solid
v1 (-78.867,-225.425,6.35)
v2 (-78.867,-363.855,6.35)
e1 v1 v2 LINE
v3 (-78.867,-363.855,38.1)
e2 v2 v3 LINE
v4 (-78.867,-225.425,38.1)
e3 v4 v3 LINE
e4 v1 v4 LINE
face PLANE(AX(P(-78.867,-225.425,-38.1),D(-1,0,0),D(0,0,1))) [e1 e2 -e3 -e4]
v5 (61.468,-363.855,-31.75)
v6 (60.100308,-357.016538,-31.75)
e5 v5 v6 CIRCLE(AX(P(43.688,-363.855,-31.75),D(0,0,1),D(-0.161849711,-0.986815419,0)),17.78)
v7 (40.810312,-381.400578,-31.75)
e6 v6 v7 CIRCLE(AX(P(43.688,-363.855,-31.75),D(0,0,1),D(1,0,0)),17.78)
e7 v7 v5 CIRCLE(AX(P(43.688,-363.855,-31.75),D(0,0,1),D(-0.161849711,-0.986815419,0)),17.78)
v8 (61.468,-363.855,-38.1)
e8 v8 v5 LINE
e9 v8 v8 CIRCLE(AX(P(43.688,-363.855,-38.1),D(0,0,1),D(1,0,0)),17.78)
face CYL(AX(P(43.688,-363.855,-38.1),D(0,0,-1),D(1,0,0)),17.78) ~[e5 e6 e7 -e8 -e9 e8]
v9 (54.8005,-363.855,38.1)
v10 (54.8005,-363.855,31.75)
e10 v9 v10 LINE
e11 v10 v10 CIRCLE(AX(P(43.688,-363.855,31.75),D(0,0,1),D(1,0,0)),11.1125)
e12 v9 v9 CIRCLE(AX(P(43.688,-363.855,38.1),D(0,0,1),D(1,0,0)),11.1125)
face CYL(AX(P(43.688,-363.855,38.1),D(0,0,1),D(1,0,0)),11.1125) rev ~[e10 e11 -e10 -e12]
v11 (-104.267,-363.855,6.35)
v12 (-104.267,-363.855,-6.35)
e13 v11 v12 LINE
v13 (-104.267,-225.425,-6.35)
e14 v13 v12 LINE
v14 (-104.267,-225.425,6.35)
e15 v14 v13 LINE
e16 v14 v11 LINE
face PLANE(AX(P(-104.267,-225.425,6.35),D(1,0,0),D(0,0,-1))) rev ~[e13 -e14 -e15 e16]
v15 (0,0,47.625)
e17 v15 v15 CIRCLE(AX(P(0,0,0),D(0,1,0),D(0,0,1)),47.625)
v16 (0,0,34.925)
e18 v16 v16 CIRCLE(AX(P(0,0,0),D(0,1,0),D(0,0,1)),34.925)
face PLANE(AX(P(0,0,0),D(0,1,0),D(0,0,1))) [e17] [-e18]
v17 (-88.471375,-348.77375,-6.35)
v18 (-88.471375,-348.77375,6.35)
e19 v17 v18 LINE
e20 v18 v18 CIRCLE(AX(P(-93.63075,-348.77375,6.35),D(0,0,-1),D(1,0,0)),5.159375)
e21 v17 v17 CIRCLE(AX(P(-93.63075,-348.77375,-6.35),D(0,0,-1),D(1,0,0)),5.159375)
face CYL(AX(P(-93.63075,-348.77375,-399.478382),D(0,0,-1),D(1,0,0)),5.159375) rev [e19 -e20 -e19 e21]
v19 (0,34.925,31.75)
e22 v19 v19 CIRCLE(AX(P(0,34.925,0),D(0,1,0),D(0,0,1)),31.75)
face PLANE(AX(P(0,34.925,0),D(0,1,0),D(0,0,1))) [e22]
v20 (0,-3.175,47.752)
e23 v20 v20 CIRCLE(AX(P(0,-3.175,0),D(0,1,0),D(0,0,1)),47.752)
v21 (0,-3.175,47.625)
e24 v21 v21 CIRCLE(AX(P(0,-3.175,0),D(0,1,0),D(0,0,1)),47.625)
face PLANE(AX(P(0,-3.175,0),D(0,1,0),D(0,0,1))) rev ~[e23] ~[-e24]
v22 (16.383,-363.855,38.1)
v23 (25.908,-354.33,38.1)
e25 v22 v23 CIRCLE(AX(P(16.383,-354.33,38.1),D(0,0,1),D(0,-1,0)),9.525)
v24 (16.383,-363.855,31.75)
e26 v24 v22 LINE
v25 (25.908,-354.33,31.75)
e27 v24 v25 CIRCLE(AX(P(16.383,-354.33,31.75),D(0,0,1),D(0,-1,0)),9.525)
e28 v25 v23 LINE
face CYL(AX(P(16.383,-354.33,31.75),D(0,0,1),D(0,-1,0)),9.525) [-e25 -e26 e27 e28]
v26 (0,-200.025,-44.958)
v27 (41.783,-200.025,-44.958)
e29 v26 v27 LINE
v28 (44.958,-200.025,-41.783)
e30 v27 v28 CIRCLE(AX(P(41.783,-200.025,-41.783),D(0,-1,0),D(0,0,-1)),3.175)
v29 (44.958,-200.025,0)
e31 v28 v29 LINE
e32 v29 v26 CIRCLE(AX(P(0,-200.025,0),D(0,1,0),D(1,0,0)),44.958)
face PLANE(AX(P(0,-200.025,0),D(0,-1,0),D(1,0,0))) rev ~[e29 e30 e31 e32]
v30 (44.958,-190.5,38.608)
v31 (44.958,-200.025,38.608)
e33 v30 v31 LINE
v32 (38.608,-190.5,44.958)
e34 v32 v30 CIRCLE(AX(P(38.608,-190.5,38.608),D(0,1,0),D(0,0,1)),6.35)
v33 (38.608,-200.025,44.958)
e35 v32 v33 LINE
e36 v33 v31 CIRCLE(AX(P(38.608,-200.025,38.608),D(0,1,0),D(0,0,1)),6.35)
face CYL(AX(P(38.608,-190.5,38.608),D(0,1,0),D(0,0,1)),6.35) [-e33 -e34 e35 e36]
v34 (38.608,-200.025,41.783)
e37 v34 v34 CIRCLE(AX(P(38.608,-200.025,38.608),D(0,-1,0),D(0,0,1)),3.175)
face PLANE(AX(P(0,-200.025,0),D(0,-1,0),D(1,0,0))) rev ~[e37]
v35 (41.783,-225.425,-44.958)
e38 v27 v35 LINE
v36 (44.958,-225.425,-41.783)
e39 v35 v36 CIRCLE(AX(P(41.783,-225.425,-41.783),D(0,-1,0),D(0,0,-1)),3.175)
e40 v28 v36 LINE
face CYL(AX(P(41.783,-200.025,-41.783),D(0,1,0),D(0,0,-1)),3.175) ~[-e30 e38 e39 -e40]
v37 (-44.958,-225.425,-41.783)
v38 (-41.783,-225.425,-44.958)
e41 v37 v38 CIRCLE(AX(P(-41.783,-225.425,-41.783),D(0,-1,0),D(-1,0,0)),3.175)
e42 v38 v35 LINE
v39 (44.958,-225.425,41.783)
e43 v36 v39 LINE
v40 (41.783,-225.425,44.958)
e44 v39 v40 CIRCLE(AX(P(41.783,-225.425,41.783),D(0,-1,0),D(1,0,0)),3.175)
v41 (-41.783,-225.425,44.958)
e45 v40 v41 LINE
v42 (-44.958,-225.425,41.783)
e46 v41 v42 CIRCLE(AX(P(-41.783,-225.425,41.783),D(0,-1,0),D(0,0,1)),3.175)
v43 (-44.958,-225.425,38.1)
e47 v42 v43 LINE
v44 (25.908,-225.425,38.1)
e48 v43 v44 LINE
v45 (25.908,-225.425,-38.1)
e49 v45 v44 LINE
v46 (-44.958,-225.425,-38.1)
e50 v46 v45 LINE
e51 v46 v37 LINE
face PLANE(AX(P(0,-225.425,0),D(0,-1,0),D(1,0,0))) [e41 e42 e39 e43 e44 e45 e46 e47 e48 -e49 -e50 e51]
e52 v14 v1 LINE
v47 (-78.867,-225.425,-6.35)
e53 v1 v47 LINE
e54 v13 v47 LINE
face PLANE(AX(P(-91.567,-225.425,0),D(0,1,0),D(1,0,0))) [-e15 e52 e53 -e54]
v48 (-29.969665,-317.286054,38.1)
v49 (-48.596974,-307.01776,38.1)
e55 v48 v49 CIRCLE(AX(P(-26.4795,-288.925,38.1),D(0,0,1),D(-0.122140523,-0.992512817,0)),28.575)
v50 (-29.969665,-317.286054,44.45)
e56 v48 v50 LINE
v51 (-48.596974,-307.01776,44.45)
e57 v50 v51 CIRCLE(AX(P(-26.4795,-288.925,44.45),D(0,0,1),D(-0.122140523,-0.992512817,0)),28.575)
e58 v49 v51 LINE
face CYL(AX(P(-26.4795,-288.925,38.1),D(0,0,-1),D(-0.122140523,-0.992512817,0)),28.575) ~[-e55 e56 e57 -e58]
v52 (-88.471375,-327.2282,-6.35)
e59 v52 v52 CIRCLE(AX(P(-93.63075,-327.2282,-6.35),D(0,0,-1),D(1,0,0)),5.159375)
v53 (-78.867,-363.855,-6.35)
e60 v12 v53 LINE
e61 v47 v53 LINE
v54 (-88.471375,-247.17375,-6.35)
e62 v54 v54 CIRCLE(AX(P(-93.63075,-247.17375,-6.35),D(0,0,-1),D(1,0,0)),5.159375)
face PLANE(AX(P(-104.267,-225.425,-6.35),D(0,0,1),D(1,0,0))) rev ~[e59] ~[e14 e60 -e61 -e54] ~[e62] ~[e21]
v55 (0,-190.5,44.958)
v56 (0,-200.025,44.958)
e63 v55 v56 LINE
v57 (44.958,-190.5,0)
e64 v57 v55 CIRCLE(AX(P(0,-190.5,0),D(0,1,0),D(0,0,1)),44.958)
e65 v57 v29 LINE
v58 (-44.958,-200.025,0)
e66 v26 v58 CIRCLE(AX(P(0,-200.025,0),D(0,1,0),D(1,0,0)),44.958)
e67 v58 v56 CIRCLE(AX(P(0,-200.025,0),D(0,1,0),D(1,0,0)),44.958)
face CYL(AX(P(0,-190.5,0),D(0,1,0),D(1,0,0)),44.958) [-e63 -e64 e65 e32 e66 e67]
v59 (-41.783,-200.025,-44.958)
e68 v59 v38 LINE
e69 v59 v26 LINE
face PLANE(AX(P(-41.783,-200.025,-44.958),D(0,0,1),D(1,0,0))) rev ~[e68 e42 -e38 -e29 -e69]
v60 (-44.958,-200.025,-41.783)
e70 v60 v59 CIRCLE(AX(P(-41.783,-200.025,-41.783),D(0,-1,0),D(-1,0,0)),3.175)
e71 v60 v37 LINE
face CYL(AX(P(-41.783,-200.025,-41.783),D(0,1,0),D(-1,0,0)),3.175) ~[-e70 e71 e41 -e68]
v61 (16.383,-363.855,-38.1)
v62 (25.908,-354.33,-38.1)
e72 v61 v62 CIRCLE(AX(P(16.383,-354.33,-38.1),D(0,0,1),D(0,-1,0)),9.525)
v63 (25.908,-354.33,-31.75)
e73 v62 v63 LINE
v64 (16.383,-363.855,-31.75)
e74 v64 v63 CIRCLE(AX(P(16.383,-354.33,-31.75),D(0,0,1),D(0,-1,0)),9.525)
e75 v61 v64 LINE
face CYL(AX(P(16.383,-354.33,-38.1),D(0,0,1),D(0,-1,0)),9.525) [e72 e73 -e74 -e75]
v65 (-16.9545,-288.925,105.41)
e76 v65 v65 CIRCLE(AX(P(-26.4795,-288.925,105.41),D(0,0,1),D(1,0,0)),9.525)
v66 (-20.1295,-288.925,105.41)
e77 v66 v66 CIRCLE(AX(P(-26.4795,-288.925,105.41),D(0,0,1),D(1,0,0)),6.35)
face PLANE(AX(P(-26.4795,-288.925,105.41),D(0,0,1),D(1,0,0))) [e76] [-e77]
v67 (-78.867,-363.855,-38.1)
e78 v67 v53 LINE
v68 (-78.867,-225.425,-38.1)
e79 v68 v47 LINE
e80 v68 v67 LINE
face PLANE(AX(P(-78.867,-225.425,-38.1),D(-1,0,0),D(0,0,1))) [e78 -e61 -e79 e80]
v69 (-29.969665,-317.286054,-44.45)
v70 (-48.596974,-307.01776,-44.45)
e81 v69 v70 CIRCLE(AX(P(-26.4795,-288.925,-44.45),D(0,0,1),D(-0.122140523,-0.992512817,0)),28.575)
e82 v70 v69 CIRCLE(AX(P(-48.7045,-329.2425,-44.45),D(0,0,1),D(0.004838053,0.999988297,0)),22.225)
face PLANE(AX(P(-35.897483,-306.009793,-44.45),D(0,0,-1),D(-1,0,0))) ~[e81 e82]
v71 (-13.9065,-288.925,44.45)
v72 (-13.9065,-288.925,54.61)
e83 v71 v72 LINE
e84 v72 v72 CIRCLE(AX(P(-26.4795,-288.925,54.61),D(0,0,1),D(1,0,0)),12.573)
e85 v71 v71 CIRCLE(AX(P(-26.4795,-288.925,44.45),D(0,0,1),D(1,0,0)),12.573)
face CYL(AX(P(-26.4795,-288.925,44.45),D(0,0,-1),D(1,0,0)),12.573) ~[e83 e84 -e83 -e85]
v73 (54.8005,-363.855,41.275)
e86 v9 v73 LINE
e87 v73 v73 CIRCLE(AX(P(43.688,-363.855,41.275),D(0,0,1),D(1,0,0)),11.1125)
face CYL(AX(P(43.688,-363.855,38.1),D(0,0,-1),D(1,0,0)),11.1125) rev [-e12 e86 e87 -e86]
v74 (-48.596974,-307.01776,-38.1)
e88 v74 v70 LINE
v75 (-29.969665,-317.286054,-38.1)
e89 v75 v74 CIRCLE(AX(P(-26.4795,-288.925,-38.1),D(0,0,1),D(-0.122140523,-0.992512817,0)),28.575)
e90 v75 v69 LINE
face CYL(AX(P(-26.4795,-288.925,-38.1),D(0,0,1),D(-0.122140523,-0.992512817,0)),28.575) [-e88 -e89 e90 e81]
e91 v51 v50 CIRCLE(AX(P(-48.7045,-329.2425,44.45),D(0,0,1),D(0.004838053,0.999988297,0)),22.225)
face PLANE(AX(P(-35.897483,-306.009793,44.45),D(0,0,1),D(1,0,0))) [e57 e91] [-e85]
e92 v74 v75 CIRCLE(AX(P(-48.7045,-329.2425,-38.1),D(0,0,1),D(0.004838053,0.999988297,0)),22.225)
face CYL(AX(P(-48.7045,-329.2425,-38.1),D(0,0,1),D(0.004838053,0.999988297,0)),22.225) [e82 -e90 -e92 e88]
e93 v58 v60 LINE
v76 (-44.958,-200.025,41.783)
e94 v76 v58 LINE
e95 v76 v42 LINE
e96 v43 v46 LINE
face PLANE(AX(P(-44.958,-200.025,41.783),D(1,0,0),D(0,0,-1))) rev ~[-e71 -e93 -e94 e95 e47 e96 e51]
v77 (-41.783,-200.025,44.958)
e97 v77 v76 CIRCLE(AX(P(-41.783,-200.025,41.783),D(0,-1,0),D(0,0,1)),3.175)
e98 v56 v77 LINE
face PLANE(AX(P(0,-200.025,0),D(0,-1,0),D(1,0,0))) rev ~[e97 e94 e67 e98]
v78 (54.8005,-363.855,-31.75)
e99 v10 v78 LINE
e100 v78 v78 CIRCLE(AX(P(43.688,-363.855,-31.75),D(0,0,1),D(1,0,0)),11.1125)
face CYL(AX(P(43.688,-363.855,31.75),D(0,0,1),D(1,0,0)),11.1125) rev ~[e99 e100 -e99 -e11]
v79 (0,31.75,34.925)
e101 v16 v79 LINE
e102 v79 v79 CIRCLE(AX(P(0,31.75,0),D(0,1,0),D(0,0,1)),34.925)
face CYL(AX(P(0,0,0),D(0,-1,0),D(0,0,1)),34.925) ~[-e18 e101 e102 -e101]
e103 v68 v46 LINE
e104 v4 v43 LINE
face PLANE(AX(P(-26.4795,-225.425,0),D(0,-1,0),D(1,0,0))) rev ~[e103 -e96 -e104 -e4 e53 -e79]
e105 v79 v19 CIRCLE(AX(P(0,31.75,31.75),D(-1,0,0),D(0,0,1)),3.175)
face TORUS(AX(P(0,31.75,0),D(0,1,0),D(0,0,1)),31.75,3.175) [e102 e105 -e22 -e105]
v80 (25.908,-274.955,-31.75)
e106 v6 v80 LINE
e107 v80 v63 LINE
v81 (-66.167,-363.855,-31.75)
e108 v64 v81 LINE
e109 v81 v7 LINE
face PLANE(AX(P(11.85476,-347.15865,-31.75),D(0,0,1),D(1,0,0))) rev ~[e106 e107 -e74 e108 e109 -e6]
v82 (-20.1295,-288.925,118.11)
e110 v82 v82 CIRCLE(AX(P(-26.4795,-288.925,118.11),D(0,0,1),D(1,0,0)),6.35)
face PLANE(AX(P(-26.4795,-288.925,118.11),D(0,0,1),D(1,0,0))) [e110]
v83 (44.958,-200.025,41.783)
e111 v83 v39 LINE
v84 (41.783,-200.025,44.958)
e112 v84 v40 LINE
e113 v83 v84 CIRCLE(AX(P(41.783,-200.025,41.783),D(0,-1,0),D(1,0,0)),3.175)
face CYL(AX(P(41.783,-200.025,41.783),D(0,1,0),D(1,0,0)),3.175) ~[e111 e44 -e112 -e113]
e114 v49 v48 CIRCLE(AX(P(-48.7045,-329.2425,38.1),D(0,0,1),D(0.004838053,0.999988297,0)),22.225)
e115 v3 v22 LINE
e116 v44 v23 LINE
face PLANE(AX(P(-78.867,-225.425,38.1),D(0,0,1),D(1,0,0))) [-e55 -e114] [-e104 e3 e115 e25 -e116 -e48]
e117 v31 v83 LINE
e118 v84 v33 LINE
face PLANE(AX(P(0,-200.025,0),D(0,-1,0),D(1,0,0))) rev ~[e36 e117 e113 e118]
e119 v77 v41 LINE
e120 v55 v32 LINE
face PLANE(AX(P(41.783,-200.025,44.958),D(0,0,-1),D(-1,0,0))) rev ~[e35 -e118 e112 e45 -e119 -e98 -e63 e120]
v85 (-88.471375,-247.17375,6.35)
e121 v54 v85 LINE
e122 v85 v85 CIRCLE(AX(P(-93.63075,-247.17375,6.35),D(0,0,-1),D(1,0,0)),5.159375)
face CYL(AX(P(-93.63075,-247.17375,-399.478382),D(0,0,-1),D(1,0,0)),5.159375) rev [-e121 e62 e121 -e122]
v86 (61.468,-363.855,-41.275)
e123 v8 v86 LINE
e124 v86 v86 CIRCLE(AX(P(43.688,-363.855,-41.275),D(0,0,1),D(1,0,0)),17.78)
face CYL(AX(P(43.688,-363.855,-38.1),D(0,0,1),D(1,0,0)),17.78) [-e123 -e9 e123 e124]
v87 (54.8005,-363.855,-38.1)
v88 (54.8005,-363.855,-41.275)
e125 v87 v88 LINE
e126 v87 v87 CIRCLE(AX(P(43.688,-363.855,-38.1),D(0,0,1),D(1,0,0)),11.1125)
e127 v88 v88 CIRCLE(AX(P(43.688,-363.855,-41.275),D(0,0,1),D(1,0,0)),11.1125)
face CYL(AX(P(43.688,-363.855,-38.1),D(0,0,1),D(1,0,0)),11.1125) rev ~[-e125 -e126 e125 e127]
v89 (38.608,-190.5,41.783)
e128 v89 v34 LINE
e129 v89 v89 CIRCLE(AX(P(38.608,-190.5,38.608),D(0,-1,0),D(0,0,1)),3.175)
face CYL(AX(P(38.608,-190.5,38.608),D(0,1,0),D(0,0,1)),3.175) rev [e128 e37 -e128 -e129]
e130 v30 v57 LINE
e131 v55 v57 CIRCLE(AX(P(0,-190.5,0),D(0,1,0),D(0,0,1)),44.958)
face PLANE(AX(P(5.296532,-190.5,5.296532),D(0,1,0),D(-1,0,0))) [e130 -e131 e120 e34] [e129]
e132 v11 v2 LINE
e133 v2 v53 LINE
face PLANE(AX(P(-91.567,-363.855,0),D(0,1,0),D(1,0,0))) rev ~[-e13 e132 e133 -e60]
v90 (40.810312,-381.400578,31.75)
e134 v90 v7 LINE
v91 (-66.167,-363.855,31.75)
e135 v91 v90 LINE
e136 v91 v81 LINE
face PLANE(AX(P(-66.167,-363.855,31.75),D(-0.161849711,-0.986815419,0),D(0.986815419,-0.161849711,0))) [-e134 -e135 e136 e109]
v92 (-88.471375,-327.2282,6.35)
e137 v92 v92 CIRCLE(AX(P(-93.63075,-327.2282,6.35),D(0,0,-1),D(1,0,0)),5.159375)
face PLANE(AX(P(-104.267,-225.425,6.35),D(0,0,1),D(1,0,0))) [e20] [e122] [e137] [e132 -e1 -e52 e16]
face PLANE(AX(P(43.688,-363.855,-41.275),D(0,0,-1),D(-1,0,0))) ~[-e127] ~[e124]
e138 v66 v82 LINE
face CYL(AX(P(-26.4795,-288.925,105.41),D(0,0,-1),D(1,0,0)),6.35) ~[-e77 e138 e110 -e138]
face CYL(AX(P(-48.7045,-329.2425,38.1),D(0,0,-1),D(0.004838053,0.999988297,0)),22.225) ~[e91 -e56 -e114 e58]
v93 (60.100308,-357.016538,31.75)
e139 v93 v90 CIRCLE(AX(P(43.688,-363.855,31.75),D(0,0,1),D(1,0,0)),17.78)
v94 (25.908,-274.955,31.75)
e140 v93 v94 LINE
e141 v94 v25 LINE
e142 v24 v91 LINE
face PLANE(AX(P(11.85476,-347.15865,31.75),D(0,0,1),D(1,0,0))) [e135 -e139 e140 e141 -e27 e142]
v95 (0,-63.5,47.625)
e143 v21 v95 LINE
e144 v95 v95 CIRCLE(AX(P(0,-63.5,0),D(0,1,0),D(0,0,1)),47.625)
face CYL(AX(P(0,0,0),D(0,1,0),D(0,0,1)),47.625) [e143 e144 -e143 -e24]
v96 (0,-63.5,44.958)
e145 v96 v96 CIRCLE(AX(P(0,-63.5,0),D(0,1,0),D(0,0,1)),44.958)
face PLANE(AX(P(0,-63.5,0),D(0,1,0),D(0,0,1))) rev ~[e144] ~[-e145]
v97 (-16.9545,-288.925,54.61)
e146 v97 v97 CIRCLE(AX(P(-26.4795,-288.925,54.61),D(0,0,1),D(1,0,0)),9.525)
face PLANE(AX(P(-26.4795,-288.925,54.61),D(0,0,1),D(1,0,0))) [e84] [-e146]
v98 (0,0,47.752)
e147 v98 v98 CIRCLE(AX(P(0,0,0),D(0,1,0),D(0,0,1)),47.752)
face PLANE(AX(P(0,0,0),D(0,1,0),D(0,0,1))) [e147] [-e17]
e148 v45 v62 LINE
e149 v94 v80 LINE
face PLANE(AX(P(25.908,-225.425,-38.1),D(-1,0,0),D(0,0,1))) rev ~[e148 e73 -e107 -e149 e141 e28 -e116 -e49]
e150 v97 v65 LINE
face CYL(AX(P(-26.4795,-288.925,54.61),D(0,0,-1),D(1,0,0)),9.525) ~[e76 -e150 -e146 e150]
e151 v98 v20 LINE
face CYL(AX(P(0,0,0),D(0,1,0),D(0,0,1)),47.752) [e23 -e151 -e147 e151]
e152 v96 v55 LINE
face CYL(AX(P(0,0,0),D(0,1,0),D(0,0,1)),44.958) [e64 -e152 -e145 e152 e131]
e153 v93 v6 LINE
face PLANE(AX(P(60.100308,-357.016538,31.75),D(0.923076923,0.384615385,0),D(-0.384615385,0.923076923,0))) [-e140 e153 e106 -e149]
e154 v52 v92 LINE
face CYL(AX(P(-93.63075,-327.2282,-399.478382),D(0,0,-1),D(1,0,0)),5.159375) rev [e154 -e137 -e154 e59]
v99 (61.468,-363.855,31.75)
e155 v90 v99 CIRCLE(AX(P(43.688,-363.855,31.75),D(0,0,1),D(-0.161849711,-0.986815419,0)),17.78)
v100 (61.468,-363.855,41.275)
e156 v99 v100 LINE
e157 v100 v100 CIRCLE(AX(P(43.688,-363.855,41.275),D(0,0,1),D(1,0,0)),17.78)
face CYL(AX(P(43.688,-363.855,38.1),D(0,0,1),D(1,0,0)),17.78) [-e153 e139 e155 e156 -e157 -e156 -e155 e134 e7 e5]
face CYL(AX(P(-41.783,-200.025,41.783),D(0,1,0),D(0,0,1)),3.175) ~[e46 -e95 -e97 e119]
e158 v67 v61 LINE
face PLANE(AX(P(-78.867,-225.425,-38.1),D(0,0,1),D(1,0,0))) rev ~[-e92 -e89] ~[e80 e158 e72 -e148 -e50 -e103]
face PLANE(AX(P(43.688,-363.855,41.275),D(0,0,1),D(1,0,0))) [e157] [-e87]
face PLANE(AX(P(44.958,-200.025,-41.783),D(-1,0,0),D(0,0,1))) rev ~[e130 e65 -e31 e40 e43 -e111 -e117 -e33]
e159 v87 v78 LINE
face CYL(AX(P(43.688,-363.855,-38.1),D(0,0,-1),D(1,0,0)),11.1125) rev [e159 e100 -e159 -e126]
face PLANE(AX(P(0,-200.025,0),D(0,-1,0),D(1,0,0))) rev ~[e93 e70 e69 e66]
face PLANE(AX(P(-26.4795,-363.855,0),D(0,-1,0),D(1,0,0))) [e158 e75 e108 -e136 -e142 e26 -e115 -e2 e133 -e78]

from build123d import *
from build123d.topology import SkipClean

# Parameters (mm, degrees)
SKETCH2_R                   = 47.625
EXTRUDE1_DEPTH              = 63.5
SKETCH3_R                   = 44.958
EXTRUDE2_DEPTH              = 190.5
SKETCH4_R                   = 34.925
EXTRUDE3_DEPTH              = 34.925
FILLET1_R                   = 3.175
SKETCH5_R                   = 3.175
EXTRUDE4_DEPTH              = 9.525
EXTRUDE5_DEPTH              = 25.4
SKETCH7_W                   = 104.775
SKETCH7_H                   = 76.2
EXTRUDE6_DEPTH              = 138.43
EXTRUDE7_DEPTH              = 6.35
EXTRUDE8_START              = -6.35
SKETCH9_R                   = 11.1125
EXTRUDE8_DEPTH              = 63.5
FILLET2_R                   = 9.525
SKETCH10_R                  = 17.78
SKETCH10_R_2                = 11.1125
EXTRUDE9_DEPTH              = 3.175
EXTRUDE9_DIRECTION_2_REACH  = 401.016
SKETCH11_W                  = 25.4
SKETCH11_H                  = 12.7
ATTACHMENT_RAIL_DEPTH       = 138.43
ATTACHMENT_HOLES_DEPTH      = 399.478382273
ATTACHMENT_HOLES_DEPTH_BACK = 399.478382273
SKETCH16_R                  = 5.159375
SKETCH12_R                  = 12.573
EXTRUDE11_DEPTH             = 10.16
SKETCH13_R                  = 9.525
EXTRUDE12_DEPTH             = 50.8
SKETCH14_R                  = 6.35
EXTRUDE13_DEPTH             = 12.7
SKETCH15_R                  = 47.752
EXTRUDE15_DEPTH             = 3.175


with BuildPart() as part:
    # Sketch2 → Extrude1 (new body)
    with BuildSketch(Plane(origin=(0, 0, 0), x_dir=(1, 0, 0), z_dir=(0, 1, 0))):
        with Locations(Location((0, 0, 0), (0, 0, 270))):
            Circle(SKETCH2_R)
    extrude(amount=-EXTRUDE1_DEPTH)

    # Sketch3 → Extrude2 (add)
    with BuildSketch(Plane(origin=(0, 0, 0), x_dir=(1, 0, 0), z_dir=(0, 1, 0))):
        with Locations(Location((0, 0, 0), (0, 0, 270))):
            Circle(SKETCH3_R)
    extrude(amount=-EXTRUDE2_DEPTH)

    # Sketch4 → Extrude3 (add)
    with BuildSketch(Plane(origin=(0, 0, 0), x_dir=(1, 0, 0), z_dir=(0, 1, 0))):
        with Locations(Location((0, 0, 0), (0, 0, 270))):
            Circle(SKETCH4_R)
    extrude(amount=EXTRUDE3_DEPTH)

    # Fillet1
    fillet1_edges = [part.edges().sort_by_distance(p)[0] for p in [
        (0, 34.925, -34.925),
    ]]
    fillet(fillet1_edges, radius=FILLET1_R)

    # Sketch5 → Extrude4 (add)
    with BuildSketch(Plane.XZ.offset(190.5)):
        with BuildLine():
            Line((0, 44.958), (38.608, 44.958))
            ThreePointArc((38.608, 44.958), (43.098128061, 43.098128061), (44.958, 38.608))
            Line((44.958, 38.608), (44.958, 0))
            ThreePointArc((44.958, 0), (-31.790106669, -31.790106669), (0, 44.958))
        make_face()
        with Locations(Location((38.608, 38.608, 0), (0, 0, 90))):
            Circle(SKETCH5_R, mode=Mode.SUBTRACT)
    extrude(amount=EXTRUDE4_DEPTH)

    # Sketch6 → Extrude5 (add)
    with BuildSketch(Plane.XZ.offset(200.025)):
        with BuildLine():
            Line((-41.783, -44.958), (41.783, -44.958))
            ThreePointArc((41.783, -44.958), (44.02806403, -44.02806403), (44.958, -41.783))
            Line((44.958, -41.783), (44.958, 41.783))
            ThreePointArc((44.958, 41.783), (44.02806403, 44.02806403), (41.783, 44.958))
            Line((41.783, 44.958), (-41.783, 44.958))
            ThreePointArc((-41.783, 44.958), (-44.02806403, 44.02806403), (-44.958, 41.783))
            Line((-44.958, 41.783), (-44.958, -41.783))
            ThreePointArc((-44.958, -41.783), (-44.02806403, -44.02806403), (-41.783, -44.958))
        make_face()
    extrude(amount=EXTRUDE5_DEPTH)

    # Sketch7 → Extrude6 (add)
    with BuildSketch(Plane.XZ.offset(225.425)):
        with Locations((-26.4795, 0)):
            Rectangle(SKETCH7_W, SKETCH7_H)
    extrude(amount=EXTRUDE6_DEPTH)

    # Sketch8 → Extrude7 (add)
    with BuildSketch(Plane.XY.offset(38.1)):
        with BuildLine():
            ThreePointArc((-48.596974265, -307.017759799), (-59.433810345, -348.70612023), (-29.96966545, -317.286053756))
            ThreePointArc((-29.96966545, -317.286053756), (-12.684672414, -263.90034502), (-48.596974265, -307.017759799))
        make_face()
    extrude7 = extrude(amount=EXTRUDE7_DEPTH)

    # Mirror1: Extrude7 across plane
    add(extrude7.mirror(Plane.XY))

    # Sketch9 → Extrude8 (add)
    with BuildSketch(Plane.XY.offset(38.1).offset(EXTRUDE8_START)):
        with BuildLine():
            Line((60.100307692, -357.016538462), (25.908, -274.955))
            Line((25.908, -274.955), (25.908, -363.855))
            Line((25.908, -363.855), (-66.167, -363.855))
            Line((-66.167, -363.855), (40.810312139, -381.400578149))
            ThreePointArc((40.810312139, -381.400578149), (57.632240078, -374.886163522), (60.100307692, -357.016538462))
        make_face()
        with Locations((43.688, -363.855)):
            Circle(SKETCH9_R, mode=Mode.SUBTRACT)
    extrude(amount=-EXTRUDE8_DEPTH)

    # Fillet2
    fillet2_edges = [part.edges().sort_by_distance(p)[0] for p in [
        (25.908, -363.855, -34.925),
        (25.908, -363.855, 34.925),
    ]]
    fillet(fillet2_edges, radius=FILLET2_R)

    # Sketch10 → Extrude9 (add)
    with BuildSketch(Plane.XY.offset(38.1)):
        with Locations((43.688, -363.855)):
            Circle(SKETCH10_R)
        with Locations((43.688, -363.855)):
            Circle(SKETCH10_R_2, mode=Mode.SUBTRACT)
    extrude9 = extrude(amount=EXTRUDE9_DEPTH)

    # Sketch10 → Extrude9 direction 2 (add, up to next)
    with BuildSketch(Plane.XY.offset(38.1), mode=Mode.PRIVATE) as extrude9_direction_2_sk1:
        with Locations((43.688, -363.855)):
            Circle(SKETCH10_R)
        with Locations((43.688, -363.855)):
            Circle(SKETCH10_R_2, mode=Mode.SUBTRACT)
    extrude9_direction_2_tool1 = extrude(extrude9_direction_2_sk1.sketch, amount=-EXTRUDE9_DIRECTION_2_REACH, mode=Mode.PRIVATE) - part.part
    extrude9_direction_2 = extrude9_direction_2_tool1.solids().sort_by_distance((26.410894, -363.855, 38.1))[0]
    add(extrude9_direction_2)

    # Mirror2: Extrude9, Extrude9 direction 2 across plane
    with SkipClean():  # the faces are left unmerged after this step: merging them gives an invalid solid
        add(extrude9.mirror(Plane.XY))
        add(extrude9_direction_2.mirror(Plane.XY))

    # Sketch11 → Attachment rail (add)
    with SkipClean():  # the faces are left unmerged after this step: merging them gives an invalid solid
        with BuildSketch(Plane(origin=(0, -225.425, 0), x_dir=(1, 0, 0), z_dir=(0, 1, 0))):
            with Locations((-91.567, 0)):
                Rectangle(SKETCH11_W, SKETCH11_H)
        extrude(amount=-ATTACHMENT_RAIL_DEPTH)

    # Sketch16 → Attachment holes (cut, two sides: drawn at the far end of the back side and taken through both)
    with SkipClean():  # the faces are left unmerged after this step: merging them gives an invalid solid
        with BuildSketch(Plane.XY.offset(-ATTACHMENT_HOLES_DEPTH_BACK)):
            with Locations((-93.63075, -247.17375)):
                Circle(SKETCH16_R)
            with Locations((-93.63075, -327.2282)):
                Circle(SKETCH16_R)
            with Locations((-93.63075, -348.77375)):
                Circle(SKETCH16_R)
        extrude(amount=ATTACHMENT_HOLES_DEPTH + ATTACHMENT_HOLES_DEPTH_BACK, mode=Mode.SUBTRACT)

    # Sketch12 → Extrude11 (add)
    with SkipClean():  # the faces are left unmerged after this step: merging them gives an invalid solid
        with BuildSketch(Plane.XY.offset(44.45)):
            with Locations((-26.4795, -288.925)):
                Circle(SKETCH12_R)
        extrude(amount=EXTRUDE11_DEPTH)

    # Sketch13 → Extrude12 (add)
    with SkipClean():  # the faces are left unmerged after this step: merging them gives an invalid solid
        with BuildSketch(Plane.XY.offset(54.61)):
            with Locations((-26.4795, -288.925)):
                Circle(SKETCH13_R)
        extrude(amount=EXTRUDE12_DEPTH)

    # Sketch14 → Extrude13 (add)
    with SkipClean():  # the faces are left unmerged after this step: merging them gives an invalid solid
        with BuildSketch(Plane.XY.offset(105.41)):
            with Locations((-26.4795, -288.925)):
                Circle(SKETCH14_R)
        extrude(amount=EXTRUDE13_DEPTH)

    # Sketch15 → Extrude15 (add)
    with SkipClean():  # the faces are left unmerged after this step: merging them gives an invalid solid
        with BuildSketch(Plane(origin=(0, 0, 0), x_dir=(1, 0, 0), z_dir=(0, 1, 0))):
            with Locations(Location((0, 0, 0), (0, 0, 270))):
                Circle(SKETCH15_R)
        extrude(amount=-EXTRUDE15_DEPTH)


solid = part.part
